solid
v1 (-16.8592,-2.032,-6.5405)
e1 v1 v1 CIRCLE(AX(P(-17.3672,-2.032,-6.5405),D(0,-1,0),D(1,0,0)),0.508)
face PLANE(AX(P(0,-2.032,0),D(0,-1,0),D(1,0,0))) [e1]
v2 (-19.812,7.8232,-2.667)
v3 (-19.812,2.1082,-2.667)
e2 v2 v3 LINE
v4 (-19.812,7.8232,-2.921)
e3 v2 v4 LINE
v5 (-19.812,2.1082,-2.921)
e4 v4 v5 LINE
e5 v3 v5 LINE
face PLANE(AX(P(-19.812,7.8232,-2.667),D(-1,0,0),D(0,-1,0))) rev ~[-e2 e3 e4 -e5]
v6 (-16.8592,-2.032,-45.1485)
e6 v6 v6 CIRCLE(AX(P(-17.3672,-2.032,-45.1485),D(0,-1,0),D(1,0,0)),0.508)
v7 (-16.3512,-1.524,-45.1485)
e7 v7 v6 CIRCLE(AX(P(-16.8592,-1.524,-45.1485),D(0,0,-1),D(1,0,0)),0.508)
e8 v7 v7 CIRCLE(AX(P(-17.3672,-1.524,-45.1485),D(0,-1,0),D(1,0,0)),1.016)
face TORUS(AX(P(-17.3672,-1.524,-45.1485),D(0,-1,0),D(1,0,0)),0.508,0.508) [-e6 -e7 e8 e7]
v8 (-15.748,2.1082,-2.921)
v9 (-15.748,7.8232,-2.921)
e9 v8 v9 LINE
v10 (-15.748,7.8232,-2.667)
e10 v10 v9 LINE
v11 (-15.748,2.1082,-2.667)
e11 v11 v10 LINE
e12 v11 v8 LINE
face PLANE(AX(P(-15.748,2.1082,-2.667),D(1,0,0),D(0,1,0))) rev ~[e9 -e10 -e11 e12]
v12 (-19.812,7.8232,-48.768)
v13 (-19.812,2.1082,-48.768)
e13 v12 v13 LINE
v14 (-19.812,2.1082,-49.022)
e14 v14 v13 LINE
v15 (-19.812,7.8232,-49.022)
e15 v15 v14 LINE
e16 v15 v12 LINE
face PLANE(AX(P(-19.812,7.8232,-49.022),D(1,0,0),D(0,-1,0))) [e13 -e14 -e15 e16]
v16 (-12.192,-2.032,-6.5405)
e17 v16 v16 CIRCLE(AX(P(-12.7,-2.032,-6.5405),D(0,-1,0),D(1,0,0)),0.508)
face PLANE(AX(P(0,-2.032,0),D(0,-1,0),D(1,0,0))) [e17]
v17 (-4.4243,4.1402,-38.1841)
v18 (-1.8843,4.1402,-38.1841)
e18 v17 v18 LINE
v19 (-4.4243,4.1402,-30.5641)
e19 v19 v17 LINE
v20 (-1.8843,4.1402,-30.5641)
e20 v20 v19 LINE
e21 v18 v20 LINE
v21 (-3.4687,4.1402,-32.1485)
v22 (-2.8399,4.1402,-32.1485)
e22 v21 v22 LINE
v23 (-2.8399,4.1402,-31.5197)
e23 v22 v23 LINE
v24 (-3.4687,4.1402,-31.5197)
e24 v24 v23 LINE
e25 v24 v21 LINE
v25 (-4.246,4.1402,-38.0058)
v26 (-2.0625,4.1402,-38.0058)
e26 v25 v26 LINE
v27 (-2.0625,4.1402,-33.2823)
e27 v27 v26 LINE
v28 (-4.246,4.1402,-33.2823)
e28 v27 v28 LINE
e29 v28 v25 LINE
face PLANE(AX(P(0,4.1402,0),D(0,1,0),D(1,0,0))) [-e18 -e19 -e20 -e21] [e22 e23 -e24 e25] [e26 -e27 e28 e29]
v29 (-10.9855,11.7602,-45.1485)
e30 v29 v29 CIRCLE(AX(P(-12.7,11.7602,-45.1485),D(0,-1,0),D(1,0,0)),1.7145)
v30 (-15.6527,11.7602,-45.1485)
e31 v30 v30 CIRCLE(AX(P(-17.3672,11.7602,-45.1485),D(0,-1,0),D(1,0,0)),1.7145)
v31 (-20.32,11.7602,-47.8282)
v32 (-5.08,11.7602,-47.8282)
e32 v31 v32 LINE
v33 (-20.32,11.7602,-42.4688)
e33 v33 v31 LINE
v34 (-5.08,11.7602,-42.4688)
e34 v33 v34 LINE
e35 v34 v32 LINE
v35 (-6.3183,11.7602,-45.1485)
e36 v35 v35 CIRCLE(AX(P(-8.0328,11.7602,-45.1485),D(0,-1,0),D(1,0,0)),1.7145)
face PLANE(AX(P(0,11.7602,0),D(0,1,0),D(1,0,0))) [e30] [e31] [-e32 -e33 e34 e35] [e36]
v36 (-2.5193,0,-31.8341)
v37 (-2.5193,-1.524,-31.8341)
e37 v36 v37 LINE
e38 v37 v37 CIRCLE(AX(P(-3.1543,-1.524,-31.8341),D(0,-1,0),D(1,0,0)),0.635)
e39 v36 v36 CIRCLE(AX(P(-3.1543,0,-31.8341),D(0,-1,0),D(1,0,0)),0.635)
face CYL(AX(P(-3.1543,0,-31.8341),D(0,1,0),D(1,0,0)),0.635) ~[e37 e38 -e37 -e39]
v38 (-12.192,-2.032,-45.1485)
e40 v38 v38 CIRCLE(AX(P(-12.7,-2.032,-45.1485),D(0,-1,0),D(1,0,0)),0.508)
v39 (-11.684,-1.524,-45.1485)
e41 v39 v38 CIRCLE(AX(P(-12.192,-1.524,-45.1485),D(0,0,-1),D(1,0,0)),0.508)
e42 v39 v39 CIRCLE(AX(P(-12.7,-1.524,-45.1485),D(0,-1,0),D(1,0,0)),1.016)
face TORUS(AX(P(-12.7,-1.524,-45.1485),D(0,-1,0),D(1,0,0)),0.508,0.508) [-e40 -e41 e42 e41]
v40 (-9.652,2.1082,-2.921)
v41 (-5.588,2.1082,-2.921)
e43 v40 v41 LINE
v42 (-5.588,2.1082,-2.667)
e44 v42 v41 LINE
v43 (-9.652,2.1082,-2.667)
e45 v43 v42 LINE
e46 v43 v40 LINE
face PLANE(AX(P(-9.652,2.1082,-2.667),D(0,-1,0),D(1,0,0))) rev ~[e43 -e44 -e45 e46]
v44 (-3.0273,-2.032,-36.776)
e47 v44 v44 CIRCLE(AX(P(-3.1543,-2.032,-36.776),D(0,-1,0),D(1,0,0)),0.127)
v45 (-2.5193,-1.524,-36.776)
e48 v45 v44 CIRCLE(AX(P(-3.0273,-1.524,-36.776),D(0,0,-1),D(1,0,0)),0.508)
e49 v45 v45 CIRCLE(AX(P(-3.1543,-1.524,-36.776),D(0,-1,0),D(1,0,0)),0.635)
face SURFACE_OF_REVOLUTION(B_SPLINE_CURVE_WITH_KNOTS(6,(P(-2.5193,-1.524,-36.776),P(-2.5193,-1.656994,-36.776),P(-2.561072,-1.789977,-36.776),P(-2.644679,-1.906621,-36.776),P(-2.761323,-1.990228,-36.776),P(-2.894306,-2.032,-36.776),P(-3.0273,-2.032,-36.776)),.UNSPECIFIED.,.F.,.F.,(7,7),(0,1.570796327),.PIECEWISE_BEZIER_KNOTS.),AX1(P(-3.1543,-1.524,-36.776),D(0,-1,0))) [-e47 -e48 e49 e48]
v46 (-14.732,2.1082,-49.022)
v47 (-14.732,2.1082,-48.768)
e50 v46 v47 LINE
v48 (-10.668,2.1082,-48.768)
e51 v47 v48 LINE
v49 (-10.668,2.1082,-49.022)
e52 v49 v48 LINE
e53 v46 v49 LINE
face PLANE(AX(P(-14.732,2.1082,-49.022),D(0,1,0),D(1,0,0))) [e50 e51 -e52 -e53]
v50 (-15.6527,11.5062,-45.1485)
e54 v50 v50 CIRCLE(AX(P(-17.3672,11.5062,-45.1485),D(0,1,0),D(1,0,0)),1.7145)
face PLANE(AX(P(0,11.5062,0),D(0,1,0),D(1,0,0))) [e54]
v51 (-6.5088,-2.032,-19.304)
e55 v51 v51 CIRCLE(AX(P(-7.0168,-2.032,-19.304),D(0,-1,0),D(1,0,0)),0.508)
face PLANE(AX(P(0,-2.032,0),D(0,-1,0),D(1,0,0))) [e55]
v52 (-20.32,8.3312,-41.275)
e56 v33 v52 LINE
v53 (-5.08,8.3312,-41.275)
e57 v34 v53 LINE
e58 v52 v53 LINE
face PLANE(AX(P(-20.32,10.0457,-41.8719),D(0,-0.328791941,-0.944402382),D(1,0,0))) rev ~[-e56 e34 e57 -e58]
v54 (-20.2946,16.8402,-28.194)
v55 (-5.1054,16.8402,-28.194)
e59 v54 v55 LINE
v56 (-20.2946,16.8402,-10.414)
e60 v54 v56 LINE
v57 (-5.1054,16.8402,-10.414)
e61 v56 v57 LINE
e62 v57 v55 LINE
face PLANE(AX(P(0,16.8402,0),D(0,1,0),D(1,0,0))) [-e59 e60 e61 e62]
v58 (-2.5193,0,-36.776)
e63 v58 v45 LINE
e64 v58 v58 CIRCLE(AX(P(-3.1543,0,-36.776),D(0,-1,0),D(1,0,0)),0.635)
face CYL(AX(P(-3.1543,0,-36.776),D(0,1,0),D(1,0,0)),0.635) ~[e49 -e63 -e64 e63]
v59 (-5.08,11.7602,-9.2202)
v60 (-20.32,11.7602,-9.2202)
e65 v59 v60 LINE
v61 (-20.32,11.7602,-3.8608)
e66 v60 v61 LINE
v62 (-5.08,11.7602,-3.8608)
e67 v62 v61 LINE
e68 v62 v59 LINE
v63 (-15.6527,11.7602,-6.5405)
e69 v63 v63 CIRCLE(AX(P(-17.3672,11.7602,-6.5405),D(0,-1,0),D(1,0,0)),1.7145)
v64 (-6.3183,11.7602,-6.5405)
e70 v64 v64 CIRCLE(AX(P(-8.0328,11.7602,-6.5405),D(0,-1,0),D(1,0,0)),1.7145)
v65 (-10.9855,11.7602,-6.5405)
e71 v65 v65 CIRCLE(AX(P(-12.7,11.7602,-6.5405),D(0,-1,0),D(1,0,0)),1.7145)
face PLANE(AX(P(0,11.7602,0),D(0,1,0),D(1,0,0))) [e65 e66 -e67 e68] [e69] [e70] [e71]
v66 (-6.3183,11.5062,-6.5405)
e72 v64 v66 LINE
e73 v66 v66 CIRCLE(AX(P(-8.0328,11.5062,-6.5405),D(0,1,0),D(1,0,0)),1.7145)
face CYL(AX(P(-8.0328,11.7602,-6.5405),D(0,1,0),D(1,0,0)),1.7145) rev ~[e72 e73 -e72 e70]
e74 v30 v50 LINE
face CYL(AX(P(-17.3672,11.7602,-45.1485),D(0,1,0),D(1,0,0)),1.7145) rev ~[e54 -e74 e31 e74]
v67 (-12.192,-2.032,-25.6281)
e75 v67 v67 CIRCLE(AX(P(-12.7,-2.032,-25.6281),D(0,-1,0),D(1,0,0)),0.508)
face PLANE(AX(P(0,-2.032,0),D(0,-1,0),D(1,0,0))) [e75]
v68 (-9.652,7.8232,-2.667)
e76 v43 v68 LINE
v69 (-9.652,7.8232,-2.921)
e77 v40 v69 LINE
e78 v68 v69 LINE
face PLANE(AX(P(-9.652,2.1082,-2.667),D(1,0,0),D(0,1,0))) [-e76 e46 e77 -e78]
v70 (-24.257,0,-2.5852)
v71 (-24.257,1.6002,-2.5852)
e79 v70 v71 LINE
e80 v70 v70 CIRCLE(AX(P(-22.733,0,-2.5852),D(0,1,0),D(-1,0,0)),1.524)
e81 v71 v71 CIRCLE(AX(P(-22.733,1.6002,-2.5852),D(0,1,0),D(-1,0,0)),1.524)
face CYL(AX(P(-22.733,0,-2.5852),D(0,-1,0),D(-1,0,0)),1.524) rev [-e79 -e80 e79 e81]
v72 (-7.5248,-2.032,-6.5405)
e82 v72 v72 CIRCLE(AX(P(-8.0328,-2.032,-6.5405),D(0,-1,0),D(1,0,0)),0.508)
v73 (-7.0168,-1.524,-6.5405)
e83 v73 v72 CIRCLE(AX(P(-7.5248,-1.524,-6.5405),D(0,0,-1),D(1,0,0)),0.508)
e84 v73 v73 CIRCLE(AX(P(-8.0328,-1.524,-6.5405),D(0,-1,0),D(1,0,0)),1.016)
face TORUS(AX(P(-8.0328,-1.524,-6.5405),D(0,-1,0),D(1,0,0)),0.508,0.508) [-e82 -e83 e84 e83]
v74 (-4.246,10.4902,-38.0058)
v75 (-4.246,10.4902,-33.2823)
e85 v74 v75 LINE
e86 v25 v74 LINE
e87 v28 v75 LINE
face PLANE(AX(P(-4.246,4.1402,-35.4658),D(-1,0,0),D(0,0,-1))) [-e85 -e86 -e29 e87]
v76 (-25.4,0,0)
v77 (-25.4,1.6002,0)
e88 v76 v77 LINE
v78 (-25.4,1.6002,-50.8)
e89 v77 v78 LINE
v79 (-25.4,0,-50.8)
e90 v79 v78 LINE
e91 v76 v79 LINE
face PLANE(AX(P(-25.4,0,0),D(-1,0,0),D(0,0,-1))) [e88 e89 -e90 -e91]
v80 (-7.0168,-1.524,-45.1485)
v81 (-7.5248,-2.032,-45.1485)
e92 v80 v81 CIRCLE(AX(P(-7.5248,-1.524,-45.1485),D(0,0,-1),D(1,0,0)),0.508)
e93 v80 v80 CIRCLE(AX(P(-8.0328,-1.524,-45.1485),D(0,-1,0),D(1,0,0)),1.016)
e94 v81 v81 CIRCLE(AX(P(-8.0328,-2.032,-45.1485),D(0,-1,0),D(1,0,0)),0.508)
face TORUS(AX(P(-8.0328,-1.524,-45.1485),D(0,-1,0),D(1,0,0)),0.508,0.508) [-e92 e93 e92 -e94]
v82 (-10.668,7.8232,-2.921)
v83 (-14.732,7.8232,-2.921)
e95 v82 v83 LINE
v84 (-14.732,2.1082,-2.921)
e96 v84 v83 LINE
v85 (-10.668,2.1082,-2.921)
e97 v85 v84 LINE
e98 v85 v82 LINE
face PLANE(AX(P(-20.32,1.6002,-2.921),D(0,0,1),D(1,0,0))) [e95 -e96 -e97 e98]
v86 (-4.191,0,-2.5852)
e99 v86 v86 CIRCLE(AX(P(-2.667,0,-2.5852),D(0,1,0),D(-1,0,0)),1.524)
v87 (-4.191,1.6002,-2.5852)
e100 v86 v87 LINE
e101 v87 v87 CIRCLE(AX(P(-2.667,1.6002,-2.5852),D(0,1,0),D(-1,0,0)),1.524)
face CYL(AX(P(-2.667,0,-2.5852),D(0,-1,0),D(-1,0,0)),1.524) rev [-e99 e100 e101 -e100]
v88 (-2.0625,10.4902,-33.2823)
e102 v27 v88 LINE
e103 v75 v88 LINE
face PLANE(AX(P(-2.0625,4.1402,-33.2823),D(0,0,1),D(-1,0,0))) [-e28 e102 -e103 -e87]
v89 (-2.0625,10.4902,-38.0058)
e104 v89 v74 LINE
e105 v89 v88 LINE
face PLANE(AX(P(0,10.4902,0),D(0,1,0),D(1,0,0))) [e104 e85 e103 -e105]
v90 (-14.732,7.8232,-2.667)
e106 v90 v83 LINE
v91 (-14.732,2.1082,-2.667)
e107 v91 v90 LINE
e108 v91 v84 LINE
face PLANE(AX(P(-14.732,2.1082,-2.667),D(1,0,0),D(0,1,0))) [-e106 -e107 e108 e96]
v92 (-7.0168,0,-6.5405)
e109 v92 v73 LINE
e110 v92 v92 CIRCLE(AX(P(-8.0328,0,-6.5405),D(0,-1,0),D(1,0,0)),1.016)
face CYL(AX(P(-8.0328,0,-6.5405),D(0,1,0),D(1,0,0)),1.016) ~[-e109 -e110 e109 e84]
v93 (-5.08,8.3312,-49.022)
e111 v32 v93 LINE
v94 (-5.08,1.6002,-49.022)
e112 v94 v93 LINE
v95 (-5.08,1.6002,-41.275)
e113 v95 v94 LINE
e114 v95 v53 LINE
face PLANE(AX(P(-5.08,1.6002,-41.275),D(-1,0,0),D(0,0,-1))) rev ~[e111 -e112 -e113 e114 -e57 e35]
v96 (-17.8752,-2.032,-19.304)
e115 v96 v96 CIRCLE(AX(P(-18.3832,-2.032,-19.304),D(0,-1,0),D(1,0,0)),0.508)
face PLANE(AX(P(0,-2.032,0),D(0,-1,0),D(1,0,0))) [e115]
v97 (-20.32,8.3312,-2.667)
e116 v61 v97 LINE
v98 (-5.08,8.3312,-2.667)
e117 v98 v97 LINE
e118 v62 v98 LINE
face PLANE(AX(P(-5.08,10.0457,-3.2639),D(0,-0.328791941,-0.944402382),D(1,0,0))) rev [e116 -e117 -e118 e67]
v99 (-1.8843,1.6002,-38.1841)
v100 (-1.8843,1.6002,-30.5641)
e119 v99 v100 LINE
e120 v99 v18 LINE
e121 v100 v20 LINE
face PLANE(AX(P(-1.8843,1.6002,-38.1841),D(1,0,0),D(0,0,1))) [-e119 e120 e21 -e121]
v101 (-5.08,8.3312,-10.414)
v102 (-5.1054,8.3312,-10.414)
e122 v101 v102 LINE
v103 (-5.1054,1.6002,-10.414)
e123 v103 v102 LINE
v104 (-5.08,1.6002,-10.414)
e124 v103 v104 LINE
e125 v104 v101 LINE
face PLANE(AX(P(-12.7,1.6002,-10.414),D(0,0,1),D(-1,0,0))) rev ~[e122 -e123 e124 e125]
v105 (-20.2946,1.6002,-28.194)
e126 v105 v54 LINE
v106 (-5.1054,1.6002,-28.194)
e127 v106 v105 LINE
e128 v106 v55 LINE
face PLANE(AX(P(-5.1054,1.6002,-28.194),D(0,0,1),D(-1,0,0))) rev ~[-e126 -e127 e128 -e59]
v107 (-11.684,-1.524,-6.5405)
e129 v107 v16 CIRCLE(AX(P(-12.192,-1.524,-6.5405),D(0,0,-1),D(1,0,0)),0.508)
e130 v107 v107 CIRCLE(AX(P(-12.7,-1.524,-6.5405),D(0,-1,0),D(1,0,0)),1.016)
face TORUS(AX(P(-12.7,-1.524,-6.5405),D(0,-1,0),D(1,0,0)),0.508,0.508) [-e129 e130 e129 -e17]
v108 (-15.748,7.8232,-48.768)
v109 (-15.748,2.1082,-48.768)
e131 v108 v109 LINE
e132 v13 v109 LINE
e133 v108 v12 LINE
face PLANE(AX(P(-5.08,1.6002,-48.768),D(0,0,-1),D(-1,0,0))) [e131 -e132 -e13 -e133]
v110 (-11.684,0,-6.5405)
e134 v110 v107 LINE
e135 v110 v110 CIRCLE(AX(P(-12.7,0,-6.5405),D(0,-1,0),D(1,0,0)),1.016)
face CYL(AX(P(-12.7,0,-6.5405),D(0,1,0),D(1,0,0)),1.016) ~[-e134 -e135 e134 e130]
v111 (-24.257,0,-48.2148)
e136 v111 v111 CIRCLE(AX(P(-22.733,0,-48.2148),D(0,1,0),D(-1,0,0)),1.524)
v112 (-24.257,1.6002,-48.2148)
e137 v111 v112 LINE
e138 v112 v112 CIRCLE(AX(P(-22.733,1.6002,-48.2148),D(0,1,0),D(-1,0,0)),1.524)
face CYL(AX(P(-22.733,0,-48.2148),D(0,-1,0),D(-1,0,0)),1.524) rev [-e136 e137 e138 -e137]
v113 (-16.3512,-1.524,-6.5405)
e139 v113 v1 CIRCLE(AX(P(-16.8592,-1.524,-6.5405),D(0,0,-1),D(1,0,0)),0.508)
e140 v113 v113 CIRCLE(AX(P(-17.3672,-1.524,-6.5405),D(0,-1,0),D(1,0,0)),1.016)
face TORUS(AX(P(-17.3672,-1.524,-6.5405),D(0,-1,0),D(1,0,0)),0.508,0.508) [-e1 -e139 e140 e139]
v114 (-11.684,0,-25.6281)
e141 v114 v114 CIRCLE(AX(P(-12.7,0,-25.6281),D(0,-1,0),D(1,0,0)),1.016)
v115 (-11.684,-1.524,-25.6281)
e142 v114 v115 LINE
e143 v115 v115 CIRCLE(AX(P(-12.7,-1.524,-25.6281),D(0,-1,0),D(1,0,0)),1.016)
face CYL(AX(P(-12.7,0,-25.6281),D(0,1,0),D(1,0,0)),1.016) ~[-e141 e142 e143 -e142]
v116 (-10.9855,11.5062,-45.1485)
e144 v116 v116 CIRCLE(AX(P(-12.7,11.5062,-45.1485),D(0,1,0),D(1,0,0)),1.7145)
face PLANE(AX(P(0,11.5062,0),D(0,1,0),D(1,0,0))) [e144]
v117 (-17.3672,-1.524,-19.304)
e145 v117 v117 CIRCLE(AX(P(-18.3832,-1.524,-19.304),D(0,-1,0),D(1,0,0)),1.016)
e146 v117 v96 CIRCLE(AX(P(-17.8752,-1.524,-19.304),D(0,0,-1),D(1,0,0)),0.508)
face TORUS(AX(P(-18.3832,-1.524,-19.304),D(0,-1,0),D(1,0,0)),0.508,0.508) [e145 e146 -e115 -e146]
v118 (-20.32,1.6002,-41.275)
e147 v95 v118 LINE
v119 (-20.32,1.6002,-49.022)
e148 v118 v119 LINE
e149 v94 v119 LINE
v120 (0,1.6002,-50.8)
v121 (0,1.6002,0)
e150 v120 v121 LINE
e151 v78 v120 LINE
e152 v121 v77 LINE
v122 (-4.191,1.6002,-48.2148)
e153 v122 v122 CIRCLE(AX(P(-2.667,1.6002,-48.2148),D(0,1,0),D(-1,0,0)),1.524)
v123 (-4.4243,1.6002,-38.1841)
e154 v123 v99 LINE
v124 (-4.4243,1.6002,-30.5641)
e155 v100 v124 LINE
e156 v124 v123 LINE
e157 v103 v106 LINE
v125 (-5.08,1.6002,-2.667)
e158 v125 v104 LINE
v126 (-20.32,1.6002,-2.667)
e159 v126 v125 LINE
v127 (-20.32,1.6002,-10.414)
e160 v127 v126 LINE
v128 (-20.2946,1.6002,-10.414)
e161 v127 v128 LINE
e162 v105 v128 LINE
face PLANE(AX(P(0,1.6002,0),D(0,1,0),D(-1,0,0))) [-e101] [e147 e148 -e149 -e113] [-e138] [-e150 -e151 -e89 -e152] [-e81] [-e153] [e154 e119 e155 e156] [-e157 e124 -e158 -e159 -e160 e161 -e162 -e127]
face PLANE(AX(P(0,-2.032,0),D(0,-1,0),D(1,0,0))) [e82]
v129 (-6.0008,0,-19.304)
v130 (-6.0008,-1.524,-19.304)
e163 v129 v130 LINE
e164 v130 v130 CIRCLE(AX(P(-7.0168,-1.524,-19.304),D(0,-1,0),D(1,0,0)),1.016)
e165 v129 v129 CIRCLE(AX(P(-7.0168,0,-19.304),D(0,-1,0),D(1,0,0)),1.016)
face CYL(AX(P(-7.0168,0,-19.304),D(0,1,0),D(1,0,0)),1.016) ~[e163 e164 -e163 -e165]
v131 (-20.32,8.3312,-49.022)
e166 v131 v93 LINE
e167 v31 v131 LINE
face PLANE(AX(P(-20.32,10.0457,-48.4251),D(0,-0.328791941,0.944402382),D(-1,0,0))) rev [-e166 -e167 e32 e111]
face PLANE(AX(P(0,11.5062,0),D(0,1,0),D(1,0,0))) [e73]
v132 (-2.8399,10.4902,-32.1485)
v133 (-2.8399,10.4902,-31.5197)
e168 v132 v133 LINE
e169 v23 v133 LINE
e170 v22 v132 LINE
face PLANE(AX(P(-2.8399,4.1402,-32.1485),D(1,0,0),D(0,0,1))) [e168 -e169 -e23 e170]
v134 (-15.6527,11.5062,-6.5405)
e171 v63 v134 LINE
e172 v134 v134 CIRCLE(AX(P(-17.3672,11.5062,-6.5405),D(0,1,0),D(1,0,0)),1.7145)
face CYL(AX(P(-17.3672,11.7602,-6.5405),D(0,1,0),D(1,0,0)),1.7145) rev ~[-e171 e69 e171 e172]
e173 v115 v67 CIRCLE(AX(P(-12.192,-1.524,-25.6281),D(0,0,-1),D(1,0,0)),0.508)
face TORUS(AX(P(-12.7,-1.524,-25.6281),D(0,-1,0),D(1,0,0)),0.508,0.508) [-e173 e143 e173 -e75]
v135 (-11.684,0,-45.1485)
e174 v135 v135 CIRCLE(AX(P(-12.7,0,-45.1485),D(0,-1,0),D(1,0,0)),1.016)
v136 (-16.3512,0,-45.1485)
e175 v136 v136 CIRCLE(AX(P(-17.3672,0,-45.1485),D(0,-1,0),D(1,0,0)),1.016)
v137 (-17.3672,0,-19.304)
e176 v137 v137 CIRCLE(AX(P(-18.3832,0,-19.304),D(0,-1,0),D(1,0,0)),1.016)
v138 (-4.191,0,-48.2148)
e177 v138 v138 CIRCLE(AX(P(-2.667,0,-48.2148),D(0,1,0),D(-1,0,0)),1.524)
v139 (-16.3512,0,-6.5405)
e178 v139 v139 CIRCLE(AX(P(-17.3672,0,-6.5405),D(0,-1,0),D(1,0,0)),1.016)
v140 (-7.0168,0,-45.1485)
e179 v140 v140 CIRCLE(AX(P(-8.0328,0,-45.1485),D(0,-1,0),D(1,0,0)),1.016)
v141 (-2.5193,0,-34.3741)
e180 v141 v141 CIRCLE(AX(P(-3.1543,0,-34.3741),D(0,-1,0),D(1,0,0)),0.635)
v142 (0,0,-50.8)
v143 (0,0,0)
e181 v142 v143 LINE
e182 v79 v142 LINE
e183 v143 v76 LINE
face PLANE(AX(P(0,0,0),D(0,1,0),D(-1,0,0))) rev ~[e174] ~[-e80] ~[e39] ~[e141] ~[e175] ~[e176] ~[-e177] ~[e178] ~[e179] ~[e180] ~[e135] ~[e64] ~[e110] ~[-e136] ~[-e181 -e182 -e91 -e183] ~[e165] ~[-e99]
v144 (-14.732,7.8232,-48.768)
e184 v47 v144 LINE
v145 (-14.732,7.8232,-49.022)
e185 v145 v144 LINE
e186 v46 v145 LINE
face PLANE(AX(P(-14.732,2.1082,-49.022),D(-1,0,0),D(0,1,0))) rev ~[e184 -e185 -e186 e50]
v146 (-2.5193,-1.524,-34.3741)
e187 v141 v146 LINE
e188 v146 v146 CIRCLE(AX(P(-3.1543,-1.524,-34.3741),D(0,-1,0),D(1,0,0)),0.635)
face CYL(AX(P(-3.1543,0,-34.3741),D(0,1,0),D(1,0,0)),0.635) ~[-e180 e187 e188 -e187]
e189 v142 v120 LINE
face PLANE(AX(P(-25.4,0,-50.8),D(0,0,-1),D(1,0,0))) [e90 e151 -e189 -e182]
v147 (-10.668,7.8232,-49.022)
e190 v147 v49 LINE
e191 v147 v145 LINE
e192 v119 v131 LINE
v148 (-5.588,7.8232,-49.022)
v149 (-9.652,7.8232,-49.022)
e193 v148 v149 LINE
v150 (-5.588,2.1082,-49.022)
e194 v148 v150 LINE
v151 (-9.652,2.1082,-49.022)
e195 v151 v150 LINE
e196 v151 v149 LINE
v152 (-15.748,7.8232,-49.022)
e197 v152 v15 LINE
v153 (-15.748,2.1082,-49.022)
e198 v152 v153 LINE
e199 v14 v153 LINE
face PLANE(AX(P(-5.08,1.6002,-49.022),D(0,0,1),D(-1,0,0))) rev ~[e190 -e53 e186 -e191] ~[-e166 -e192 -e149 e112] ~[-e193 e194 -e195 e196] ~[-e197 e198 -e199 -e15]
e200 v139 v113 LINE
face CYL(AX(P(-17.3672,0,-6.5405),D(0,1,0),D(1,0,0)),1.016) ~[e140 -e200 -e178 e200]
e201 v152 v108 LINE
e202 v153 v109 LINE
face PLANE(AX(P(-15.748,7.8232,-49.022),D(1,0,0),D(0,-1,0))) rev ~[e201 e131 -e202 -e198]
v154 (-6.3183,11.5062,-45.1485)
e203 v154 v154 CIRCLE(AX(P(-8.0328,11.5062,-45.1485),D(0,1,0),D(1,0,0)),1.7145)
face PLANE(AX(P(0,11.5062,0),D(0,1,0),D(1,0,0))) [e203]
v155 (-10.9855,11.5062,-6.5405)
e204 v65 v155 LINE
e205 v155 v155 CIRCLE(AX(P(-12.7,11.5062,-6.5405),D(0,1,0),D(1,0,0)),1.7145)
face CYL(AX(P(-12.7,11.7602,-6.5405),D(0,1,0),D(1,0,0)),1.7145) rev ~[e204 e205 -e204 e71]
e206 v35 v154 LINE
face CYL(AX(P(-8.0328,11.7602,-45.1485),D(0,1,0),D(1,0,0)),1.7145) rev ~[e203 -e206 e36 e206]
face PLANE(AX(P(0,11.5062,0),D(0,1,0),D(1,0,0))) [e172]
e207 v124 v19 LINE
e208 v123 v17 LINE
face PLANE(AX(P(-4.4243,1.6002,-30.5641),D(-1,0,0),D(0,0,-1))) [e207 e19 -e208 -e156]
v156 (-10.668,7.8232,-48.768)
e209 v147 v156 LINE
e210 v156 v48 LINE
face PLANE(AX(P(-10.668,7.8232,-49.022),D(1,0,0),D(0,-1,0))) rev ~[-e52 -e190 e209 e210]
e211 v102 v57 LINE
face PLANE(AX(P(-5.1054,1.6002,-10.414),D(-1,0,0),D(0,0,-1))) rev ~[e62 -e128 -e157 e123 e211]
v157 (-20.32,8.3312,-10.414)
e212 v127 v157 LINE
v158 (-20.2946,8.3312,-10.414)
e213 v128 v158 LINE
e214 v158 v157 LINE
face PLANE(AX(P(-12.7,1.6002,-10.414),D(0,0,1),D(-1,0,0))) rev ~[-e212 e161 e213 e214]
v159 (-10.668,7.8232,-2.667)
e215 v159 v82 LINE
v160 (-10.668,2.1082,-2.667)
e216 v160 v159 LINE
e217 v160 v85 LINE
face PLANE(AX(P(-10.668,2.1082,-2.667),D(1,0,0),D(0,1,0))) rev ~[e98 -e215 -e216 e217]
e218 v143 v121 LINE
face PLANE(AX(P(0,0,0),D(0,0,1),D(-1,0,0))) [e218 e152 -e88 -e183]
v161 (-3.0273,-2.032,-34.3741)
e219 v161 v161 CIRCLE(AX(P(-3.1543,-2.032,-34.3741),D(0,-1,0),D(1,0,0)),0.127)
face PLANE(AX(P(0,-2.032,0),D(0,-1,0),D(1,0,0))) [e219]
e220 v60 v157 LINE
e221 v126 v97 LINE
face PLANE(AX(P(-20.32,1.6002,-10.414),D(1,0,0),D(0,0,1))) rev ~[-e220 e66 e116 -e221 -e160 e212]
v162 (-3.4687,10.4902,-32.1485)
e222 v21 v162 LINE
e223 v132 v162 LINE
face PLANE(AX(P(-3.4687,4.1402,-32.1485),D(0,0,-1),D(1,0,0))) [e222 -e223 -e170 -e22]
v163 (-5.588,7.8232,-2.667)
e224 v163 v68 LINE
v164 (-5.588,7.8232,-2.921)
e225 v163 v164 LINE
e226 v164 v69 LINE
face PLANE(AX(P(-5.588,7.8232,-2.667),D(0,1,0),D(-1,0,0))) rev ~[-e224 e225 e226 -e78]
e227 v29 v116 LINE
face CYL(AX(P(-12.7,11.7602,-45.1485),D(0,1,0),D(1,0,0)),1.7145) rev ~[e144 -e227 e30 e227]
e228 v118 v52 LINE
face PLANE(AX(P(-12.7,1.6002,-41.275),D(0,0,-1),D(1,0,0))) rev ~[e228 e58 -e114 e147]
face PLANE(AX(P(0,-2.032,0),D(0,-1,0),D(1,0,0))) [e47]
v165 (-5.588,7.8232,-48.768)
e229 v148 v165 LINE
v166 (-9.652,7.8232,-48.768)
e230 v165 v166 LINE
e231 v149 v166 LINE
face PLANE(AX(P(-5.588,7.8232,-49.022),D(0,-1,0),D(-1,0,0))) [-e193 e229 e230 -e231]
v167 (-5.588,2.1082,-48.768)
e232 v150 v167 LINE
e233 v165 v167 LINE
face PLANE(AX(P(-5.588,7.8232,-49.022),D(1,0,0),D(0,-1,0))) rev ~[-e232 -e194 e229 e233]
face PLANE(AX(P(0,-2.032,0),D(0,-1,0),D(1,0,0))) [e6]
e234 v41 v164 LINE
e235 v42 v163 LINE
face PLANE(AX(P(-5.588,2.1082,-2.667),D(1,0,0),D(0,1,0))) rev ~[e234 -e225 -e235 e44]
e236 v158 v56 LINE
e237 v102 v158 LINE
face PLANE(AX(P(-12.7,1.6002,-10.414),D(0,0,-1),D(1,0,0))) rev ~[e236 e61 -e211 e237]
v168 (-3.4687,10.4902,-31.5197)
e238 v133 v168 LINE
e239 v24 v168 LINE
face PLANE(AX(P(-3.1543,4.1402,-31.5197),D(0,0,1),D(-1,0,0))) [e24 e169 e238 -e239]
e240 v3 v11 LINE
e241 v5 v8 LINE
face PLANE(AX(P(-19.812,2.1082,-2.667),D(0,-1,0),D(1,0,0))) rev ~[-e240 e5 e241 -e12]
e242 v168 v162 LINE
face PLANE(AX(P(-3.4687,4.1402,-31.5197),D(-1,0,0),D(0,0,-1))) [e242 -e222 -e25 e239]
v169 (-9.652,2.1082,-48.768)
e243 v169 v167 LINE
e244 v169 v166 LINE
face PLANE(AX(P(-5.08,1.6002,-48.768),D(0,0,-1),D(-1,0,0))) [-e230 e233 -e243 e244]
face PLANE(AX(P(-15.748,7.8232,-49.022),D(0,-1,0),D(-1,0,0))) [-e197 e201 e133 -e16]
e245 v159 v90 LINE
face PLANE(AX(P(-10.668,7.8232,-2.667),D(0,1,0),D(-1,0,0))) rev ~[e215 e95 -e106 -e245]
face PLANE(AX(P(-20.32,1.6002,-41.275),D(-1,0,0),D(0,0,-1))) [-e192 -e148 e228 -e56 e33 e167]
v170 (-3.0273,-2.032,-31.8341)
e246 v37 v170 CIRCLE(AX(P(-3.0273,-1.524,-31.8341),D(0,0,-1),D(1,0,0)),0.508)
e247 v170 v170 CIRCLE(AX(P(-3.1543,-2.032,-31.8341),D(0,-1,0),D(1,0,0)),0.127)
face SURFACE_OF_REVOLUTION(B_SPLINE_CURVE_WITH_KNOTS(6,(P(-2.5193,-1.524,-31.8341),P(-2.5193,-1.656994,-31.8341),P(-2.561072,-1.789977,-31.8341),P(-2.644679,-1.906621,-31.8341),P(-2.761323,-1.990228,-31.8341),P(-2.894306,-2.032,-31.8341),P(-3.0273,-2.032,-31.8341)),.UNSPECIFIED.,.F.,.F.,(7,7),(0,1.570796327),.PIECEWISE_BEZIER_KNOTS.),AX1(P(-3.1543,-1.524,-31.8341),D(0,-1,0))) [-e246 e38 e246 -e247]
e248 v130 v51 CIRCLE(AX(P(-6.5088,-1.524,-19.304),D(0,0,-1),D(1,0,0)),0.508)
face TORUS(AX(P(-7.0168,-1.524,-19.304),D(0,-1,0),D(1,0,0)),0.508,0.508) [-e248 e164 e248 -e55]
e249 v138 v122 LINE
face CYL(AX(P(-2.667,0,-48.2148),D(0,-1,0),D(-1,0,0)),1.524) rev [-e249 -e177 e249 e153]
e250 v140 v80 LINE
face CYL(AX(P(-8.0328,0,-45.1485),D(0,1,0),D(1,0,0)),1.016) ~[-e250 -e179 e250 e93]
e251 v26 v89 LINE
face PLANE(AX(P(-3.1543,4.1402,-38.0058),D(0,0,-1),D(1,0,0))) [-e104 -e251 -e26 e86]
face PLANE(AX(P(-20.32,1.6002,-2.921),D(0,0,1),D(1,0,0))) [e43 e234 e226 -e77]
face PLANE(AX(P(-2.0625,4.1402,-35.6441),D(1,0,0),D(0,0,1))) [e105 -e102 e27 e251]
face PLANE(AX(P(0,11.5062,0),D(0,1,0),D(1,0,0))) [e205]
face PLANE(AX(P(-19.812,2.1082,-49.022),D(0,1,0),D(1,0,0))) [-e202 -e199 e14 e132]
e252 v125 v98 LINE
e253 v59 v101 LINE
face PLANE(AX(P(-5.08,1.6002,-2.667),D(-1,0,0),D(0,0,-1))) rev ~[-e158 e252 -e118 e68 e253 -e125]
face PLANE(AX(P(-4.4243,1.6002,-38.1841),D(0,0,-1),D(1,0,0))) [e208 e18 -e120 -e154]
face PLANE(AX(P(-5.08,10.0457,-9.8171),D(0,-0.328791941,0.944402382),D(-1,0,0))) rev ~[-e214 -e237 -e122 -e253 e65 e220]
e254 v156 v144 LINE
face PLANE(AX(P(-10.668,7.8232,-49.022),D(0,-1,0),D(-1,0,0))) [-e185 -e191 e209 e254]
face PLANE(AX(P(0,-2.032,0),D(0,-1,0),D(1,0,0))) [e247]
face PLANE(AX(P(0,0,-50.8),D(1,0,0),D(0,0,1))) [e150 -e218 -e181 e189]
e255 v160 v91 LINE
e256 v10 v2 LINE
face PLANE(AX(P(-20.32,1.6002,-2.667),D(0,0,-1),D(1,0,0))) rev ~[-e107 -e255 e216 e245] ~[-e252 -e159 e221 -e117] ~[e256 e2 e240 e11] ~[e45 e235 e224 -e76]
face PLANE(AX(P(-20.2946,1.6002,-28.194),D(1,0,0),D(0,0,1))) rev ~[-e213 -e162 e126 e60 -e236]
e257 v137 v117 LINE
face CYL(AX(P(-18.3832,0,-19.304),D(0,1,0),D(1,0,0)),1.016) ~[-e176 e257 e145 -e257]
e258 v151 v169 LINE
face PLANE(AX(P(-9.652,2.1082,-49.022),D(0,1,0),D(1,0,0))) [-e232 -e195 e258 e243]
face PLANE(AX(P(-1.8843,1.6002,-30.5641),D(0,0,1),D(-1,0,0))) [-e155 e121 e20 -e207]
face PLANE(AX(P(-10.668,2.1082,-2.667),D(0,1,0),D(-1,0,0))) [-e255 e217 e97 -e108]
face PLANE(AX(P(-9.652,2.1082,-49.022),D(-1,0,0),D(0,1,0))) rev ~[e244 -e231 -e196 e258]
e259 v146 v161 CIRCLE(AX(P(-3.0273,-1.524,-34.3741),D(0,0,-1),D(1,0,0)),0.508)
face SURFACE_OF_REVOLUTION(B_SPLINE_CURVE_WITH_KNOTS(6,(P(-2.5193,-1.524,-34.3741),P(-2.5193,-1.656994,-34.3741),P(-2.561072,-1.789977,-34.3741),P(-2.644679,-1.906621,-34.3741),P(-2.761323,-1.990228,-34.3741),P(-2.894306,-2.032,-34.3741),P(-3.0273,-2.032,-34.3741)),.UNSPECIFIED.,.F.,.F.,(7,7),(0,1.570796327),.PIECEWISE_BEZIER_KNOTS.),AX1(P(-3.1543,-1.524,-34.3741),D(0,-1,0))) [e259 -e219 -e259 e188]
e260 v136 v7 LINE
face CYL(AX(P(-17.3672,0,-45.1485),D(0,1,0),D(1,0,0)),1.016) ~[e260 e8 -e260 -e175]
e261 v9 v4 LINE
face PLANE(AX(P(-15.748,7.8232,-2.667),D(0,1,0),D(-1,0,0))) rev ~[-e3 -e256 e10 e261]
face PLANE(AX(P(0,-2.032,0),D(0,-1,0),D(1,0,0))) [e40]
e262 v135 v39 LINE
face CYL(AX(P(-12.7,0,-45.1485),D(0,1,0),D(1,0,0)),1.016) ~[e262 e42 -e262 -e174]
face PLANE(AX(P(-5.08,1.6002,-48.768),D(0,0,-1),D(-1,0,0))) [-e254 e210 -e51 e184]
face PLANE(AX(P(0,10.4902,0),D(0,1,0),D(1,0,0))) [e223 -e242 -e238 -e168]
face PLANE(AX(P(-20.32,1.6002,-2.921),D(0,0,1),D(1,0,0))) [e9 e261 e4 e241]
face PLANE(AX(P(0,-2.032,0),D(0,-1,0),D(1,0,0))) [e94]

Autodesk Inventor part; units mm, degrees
ref_plane "YZ Plane" through (0, 0, 0) normal (1, 0, 0) x (0, 1, 0)
ref_plane "XZ Plane" through (0, 0, 0) normal (0, 1, 0) x (-1, 0, 0)
ref_plane "XY Plane" through (0, 0, 0) normal (0, 0, 1) x (1, 0, 0)
sketch "Sketch1" plane through (0, 0, 0) normal (0, 1, 0) x (-1, 0, 0)
  line L0 (0, 0) -> (25.4, 0)
  line L1 (25.4, 0) -> (25.4, -50.8)
  line L2 (25.4, -50.8) -> (0, -50.8)
  line L3 (0, -50.8) -> (0, 0)
  line L4 (25.4, 0) -> (24.257, 0) construction
  line L5 (24.257, 0) -> (24.257, -1.143) construction
  line L6 (24.257, -1.143) -> (25.4, -1.143) construction
  line L7 (25.4, -1.143) -> (25.4, 0) construction
  line L8 (24.257, -1.143) -> (21.209, -1.143) construction
  line L9 (21.209, -1.143) -> (21.209, -4.0275) construction
  line L10 (21.209, -4.0275) -> (24.257, -4.0275) construction
  line L11 (24.257, -4.0275) -> (24.257, -1.143) construction
  line L12 (12.7, 0) -> (12.7, -12.2886) construction
  line L13 (25.4, -25.4) -> (17.1181, -25.4) construction
  circle A0 centre (22.733, -2.5852) radius 1.524
  circle A1 centre (2.667, -2.5852) radius 1.524
  circle A2 centre (22.733, -48.2148) radius 1.524
  circle A3 centre (2.667, -48.2148) radius 1.524
  dimension "d0" = 25.4
  dimension "d1" = 50.8
  dimension "d2" = 1.143
  dimension "d3" = 1.143
  dimension "d4" = 3.048
extrude "Extrusion1" add sketch "Sketch1" along normal blind 1.6002
sketch "Sketch3" plane through (0, 1.6002, 0) normal (0, 1, 0) x (1, 0, 0)
  line L0 (0, 50.8) -> (-25.4, 50.8) projected
  line L1 (-12.7, 50.8) -> (-12.7, 49.022)
  line L2 (-12.7, 49.022) -> (-12.7, 41.275)
  line L3 (-25.4, 0) -> (0, 0) projected
  line L4 (-12.7, 0) -> (-12.7, 2.667)
  line L5 (-12.7, 2.667) -> (-12.7, 10.414)
  line L6 (-12.7, 10.414) -> (-5.08, 10.414)
  line L7 (-5.08, 10.414) -> (-20.32, 10.414)
  line L8 (-20.32, 10.414) -> (-20.32, 2.667)
  line L9 (-20.32, 2.667) -> (-5.08, 2.667)
  line L10 (-5.08, 2.667) -> (-5.08, 10.414)
  line L11 (-12.7, 41.275) -> (-5.08, 41.275)
  line L12 (-5.08, 41.275) -> (-5.08, 49.022)
  line L13 (-5.08, 49.022) -> (-12.7, 49.022)
  line L14 (-12.7, 49.022) -> (-12.7, 41.275)
  line L15 (-5.08, 41.275) -> (-20.32, 41.275)
  line L16 (-20.32, 41.275) -> (-20.32, 49.022)
  line L17 (-20.32, 49.022) -> (-5.08, 49.022)
  line L18 (-5.08, 49.022) -> (-5.08, 41.275)
  dimension "d13" = 7.747
  dimension "d14" = 1.778
  dimension "d15" = 2.667
  dimension "d16" = 7.747
  dimension "d17" = 7.62
  dimension "d18" = 15.24
  dimension "d19" = 7.747
  dimension "d20" = 7.62
  dimension "d21" = 7.747
  dimension "d22" = 15.24
extrude "Extrusion2" add sketch "Sketch3" along normal blind 10.16
chamfer "Chamfer1" distance 1.1938 distance2 3.429 2 edges at (-12.7, 11.7602, -2.667) (-12.7, 11.7602, -10.414) measured on face at (-15.24, 11.7602, -7.8317)
chamfer "Chamfer2" distance 1.1938 distance2 3.429 2 edges at (-12.7, 11.7602, -41.275) (-12.7, 11.7602, -49.022) measured on face at (-15.24, 11.7602, -46.4397)
sketch "Sketch4" plane through (0, 11.7602, 0) normal (0, 1, 0) x (1, 0, 0)
  line L0 (-5.08, 42.4688) -> (-20.32, 42.4688) projected
  line L1 (-20.32, 41.275) -> (-20.32, 49.022) projected
  line L2 (-5.08, 42.4688) -> (-20.32, 42.4688)
  line L3 (-20.32, 42.4688) -> (-20.32, 45.1485)
  line L4 (-20.32, 45.1485) -> (-5.08, 45.1485)
  line L5 (-5.08, 45.1485) -> (-5.08, 42.4688)
  circle A0 centre (-12.7, 45.1485) radius 1.7145
  line L6 (-10.9855, 45.1485) -> (-5.08, 45.1485)
  line L7 (-5.08, 49.022) -> (-5.08, 41.275) projected
  line L8 (-14.4145, 45.1485) -> (-20.32, 45.1485)
  line L9 (-5.08, 3.8608) -> (-20.32, 3.8608) projected
  line L10 (-20.32, 2.667) -> (-20.32, 10.414) projected
  line L11 (-5.08, 3.8608) -> (-20.32, 3.8608)
  line L12 (-20.32, 3.8608) -> (-20.32, 6.5405)
  line L13 (-20.32, 6.5405) -> (-5.08, 6.5405)
  line L14 (-5.08, 6.5405) -> (-5.08, 3.8608)
  circle A1 centre (-8.0328, 45.1485) radius 1.7145
  circle A2 centre (-17.3672, 45.1485) radius 1.7145
  circle A3 centre (-12.7, 6.5405) radius 1.7145
  line L15 (-10.9855, 6.5405) -> (-5.08, 6.5405)
  line L16 (-14.4145, 6.5405) -> (-20.32, 6.5405)
  circle A4 centre (-17.3672, 6.5405) radius 1.7145
  circle A5 centre (-8.0328, 6.5405) radius 1.7145
  point P0 (0, 0)
  dimension "d31" = 3.429
  dimension "d32" = 3.429
  dimension "d33" = 3.429
  dimension "d34" = 3.429
  dimension "d35" = 3.429
  dimension "d36" = 3.429
extrude "Extrusion3" cut sketch "Sketch4" against normal blind 0.254 contours A1 L4 | L4 A1 | A2 L4 | L4 A2 | A0 L4 | L4 A0 | A5 L13 | L13 A5 | A4 L13 | L13 A4 | A3 L13 | L13 A3
sketch "Sketch5" plane through (-20.32, 1.6002, -2.667) normal (0, 0, 1) x (1, 0, 0)
  line L0 (0, 0) -> (0, 6.731) projected
  line L1 (0, 6.731) -> (5.08, 6.731)
  line L2 (15.24, 6.731) -> (0, 6.731) projected
  line L3 (5.08, 6.731) -> (10.16, 6.731)
  line L4 (10.16, 6.731) -> (15.24, 6.731)
  line L5 (10.16, 6.731) -> (15.24, 6.731)
  line L6 (15.24, 6.731) -> (15.24, 0)
  line L7 (15.24, 0) -> (10.16, 0)
  line L8 (10.16, 0) -> (10.16, 6.731)
  line L9 (5.08, 6.731) -> (0, 6.731)
  line L10 (0, 6.731) -> (0, 0)
  line L11 (0, 0) -> (5.08, 0)
  line L12 (5.08, 0) -> (5.08, 6.731)
  line L13 (5.08, 6.731) -> (10.16, 6.731)
  line L14 (10.16, 6.731) -> (10.16, 0)
  line L15 (10.16, 0) -> (5.08, 0)
  line L16 (5.08, 0) -> (5.08, 6.731)
  line L17 (4.572, 6.223) -> (0.508, 6.223)
  line L18 (0.508, 6.223) -> (0.508, 0.508)
  line L19 (0.508, 0.508) -> (4.572, 0.508)
  line L20 (4.572, 0.508) -> (4.572, 6.223)
  line L21 (10.16, 0.508) -> (14.732, 0.508)
  line L22 (14.732, 0.508) -> (14.732, 6.223)
  line L23 (14.732, 6.223) -> (10.16, 6.223)
  line L24 (10.668, 0) -> (10.668, 6.731)
  line L25 (9.652, 0) -> (9.652, 6.223)
  line L26 (9.652, 6.223) -> (5.08, 6.223)
  line L27 (10.16, 0.508) -> (5.588, 0.508)
  line L28 (5.588, 0.508) -> (5.588, 6.731)
  point P0 (20.32, -1.6002)
  point P1 (10.668, 6.223)
  point P2 (10.668, 0.508)
  point P3 (5.588, 6.223)
  point P4 (9.652, 0.508)
  dimension "d39" = 5.08
  dimension "d40" = 5.08
  dimension "d41" = 0.508
  dimension "d42" = 0.508
  dimension "d43" = 0.508
  dimension "d44" = 0.508
  dimension "d45" = 0.508
extrude "Extrusion4" cut sketch "Sketch5" against normal blind 0.254 contours L26 L25 L27 L28 | L24 L23 L22 L21 | L20 L19 L18 L17
sketch "Sketch6" plane through (-5.08, 1.6002, -49.022) normal (0, 0, -1) x (-1, 0, 0)
  line L0 (0, 0) -> (15.24, 0) projected
  line L1 (15.24, 6.731) -> (0, 6.731) projected
  line L2 (0, 0) -> (5.08, 0)
  line L3 (5.08, 0) -> (5.08, 6.731)
  line L4 (5.08, 6.731) -> (0, 6.731)
  line L5 (0, 6.731) -> (0, 0)
  line L6 (5.08, 6.731) -> (10.16, 6.731)
  line L7 (10.16, 6.731) -> (10.16, 0)
  line L8 (10.16, 0) -> (5.08, 0)
  line L9 (5.08, 0) -> (5.08, 6.731)
  line L10 (15.24, 0) -> (15.24, 6.731) projected
  line L11 (10.16, 0) -> (15.24, 0)
  line L12 (15.24, 0) -> (15.24, 6.731)
  line L13 (15.24, 6.731) -> (10.16, 6.731)
  line L14 (10.16, 6.731) -> (10.16, 0)
  line L15 (0, 6.223) -> (14.732, 6.223)
  line L16 (14.732, 6.223) -> (14.732, 0.508)
  line L17 (14.732, 0.508) -> (0, 0.508)
  line L18 (0.508, 0.508) -> (4.572, 0.508)
  line L19 (4.572, 0.508) -> (4.572, 6.223)
  line L20 (4.572, 6.223) -> (0.508, 6.223)
  line L21 (0.508, 6.223) -> (0.508, 0.508)
  line L22 (9.652, 0) -> (9.652, 6.223)
  line L23 (9.652, 6.223) -> (5.08, 6.223)
  line L24 (10.668, 0.508) -> (14.732, 0.508)
  line L25 (14.732, 0.508) -> (14.732, 6.223)
  line L26 (14.732, 6.223) -> (10.668, 6.223)
  line L27 (10.668, 6.223) -> (10.668, 0.508)
  line L28 (5.588, 7.239) -> (5.588, -0.508)
  line L29 (5.588, -0.508) -> (-0.508, -0.508)
  line L30 (-0.508, -0.508) -> (-0.508, 7.239)
  line L31 (-0.508, 7.239) -> (5.588, 7.239)
  point P0 (-5.08, -1.6002)
  point P1 (5.588, 6.223)
  point P2 (5.588, 0.508)
  point P3 (9.652, 0.508)
  point P4 (0.508, 6.223)
  point P5 (0.508, 0.508)
  dimension "d48" = 5.08
  dimension "d49" = 5.08
  dimension "d50" = 0.508
  dimension "d51" = 0.508
  dimension "d52" = 0.508
  dimension "d53" = 0.508
  dimension "d54" = 0.508
extrude "Extrusion5" cut sketch "Sketch6" against normal blind 0.254 contours L21 L15 L19 L17 | L28 L15 L22 L17 | L27 L15 L16 L17
sketch "Sketch7" plane through (0, 1.6002, 0) normal (0, 1, 0) x (1, 0, 0)
  line L0 (-20.32, 10.414) -> (-5.08, 10.414) projected
  line L1 (-12.7, 10.414) -> (-5.1054, 10.414)
  line L2 (-5.1054, 10.414) -> (-5.1054, 28.194)
  line L3 (-5.1054, 28.194) -> (-12.7, 28.194)
  line L4 (-12.7, 28.194) -> (-12.7, 10.414)
  line L5 (-12.7, 28.194) -> (-20.2946, 28.194)
  line L6 (-20.2946, 28.194) -> (-20.2946, 9.398)
  line L7 (-20.2946, 9.398) -> (-12.7, 9.398)
  line L8 (-12.7, 9.398) -> (-12.7, 28.194)
  point P0 (0, 0)
  point P1 (-20.2946, 10.414)
  dimension "d57" = 7.5946
  dimension "d58" = 17.78
  dimension "d59" = 7.5946
  dimension "d60" = 18.796
extrude "Extrusion6" add sketch "Sketch7" along normal blind 15.24 contours L4 L3 L2 L0 | L0 L6 L5 L4
sketch "Sketch8" plane through (0, 1.6002, 0) normal (0, 1, 0) x (1, 0, 0)
  line L0 (-1.8843, 30.5641) -> (-4.4243, 30.5641)
  line L1 (-4.4243, 30.5641) -> (-4.4243, 38.1841)
  line L2 (-4.4243, 38.1841) -> (-1.8843, 38.1841)
  line L3 (-1.8843, 38.1841) -> (-1.8843, 30.5641)
  point P0 (0, 0)
  dimension "d65" = 7.62
  dimension "d66" = 2.54
extrude "Extrusion7" add sketch "Sketch8" along normal blind 2.54
sketch "Sketch10" plane through (0, 4.1402, 0) normal (0, 1, 0) x (1, 0, 0)
  line L0 (-1.8843, 30.5641) -> (-4.4243, 30.5641) projected
  line L1 (-4.4243, 38.1841) -> (-4.4243, 30.5641) projected
  line L2 (-1.8843, 30.5641) -> (-4.4243, 30.5641)
  line L3 (-4.4243, 30.5641) -> (-4.4243, 35.6441)
  line L4 (-4.4243, 35.6441) -> (-1.8843, 35.6441)
  line L5 (-1.8843, 35.6441) -> (-1.8843, 30.5641)
  line L6 (-1.8843, 35.6441) -> (-4.4243, 35.6441)
  line L7 (-4.4243, 35.6441) -> (-4.4243, 38.1841)
  line L8 (-4.4243, 38.1841) -> (-1.8843, 38.1841)
  line L9 (-1.8843, 38.1841) -> (-1.8843, 35.6441)
  line L10 (-2.8399, 37.2285) -> (-3.4687, 37.2285)
  line L11 (-3.4687, 37.2285) -> (-3.4687, 36.5997)
  line L12 (-3.4687, 36.5997) -> (-2.8399, 36.5997)
  line L13 (-2.8399, 36.5997) -> (-2.8399, 37.2285)
  line L14 (-2.0625, 35.4658) -> (-4.246, 35.4658)
  line L15 (-4.246, 35.4658) -> (-4.246, 30.7423)
  line L16 (-4.246, 30.7423) -> (-2.0625, 30.7423)
  line L17 (-2.0625, 30.7423) -> (-2.0625, 35.4658)
  line L18 (-3.1543, 30.5641) -> (-3.1543, 38.1841)
  line L19 (-3.1543, 34.3741) -> (-3.6306, 34.3741)
  line L20 (-2.8399, 31.5197) -> (-3.4687, 31.5197)
  line L21 (-3.4687, 31.5197) -> (-3.4687, 32.1485)
  line L22 (-3.4687, 32.1485) -> (-2.8399, 32.1485)
  line L23 (-2.8399, 32.1485) -> (-2.8399, 31.5197)
  line L24 (-2.0625, 33.2823) -> (-4.246, 33.2823)
  line L25 (-4.246, 33.2823) -> (-4.246, 38.0058)
  line L26 (-4.246, 38.0058) -> (-2.0625, 38.0058)
  line L27 (-2.0625, 38.0058) -> (-2.0625, 33.2823)
  line L28 (-1.8843, 38.1841) -> (-4.4243, 38.1841) projected
  line L29 (-4.4243, 38.1841) -> (-4.4243, 30.5641) projected
  line L30 (-4.4243, 30.5641) -> (-1.8843, 30.5641) projected
  line L31 (-1.8843, 30.5641) -> (-1.8843, 38.1841) projected
  line L32 (-4.246, 38.0058) -> (-2.0625, 38.0058)
  line L33 (-2.0625, 38.0058) -> (-2.0625, 33.2823)
  line L34 (-2.0625, 33.2823) -> (-4.246, 33.2823)
  line L35 (-4.246, 33.2823) -> (-4.246, 38.0058)
  line L36 (-2.8399, 32.1485) -> (-3.4687, 32.1485)
  line L37 (-3.4687, 32.1485) -> (-3.4687, 31.5197)
  line L38 (-3.4687, 31.5197) -> (-2.8399, 31.5197)
  line L39 (-2.8399, 31.5197) -> (-2.8399, 32.1485)
  point P0 (0, 0)
  dimension "d67" = 5.08
extrude "Extrusion8" add sketch "Sketch10" along normal blind 6.35 contours L27 L14 L18 L4 | L4 L18 L12 L13 L10 L26 L27 | L20 L21 L22 L18 | L18 L22 L23 L20 | L18 L14 L25 L4 | L4 L25 L26 L18 L10 L11 L12 | L17 L24 L18 L14 | L15 L14 L18 L24 | L18 L10 L13 L12 | L12 L11 L10 L18
sketch "Sketch11" plane through (0, 0, 0) normal (0, -1, 0) x (1, 0, 0)
  circle A0 centre (-17.3672, -6.5405) radius 1.7145 projected
  circle A1 centre (-12.7, -6.5405) radius 1.7145 projected
  circle A2 centre (-8.0328, -6.5405) radius 1.7145 projected
  line L0 (-20.2946, -28.194) -> (-20.2946, -10.414) projected
  line L1 (-20.2946, -10.414) -> (-5.1054, -10.414) projected
  line L2 (-5.1054, -10.414) -> (-5.1054, -28.194) projected
  line L3 (-5.1054, -28.194) -> (-20.2946, -28.194) projected
  circle A3 centre (-17.3672, -45.1485) radius 1.7145 projected
  circle A4 centre (-12.7, -45.1485) radius 1.7145 projected
  circle A5 centre (-8.0328, -45.1485) radius 1.7145 projected
  line L4 (-2.8399, -31.5197) -> (-3.4687, -31.5197) projected
  line L5 (-3.4687, -31.5197) -> (-3.4687, -32.1485) projected
  line L6 (-3.4687, -32.1485) -> (-2.8399, -32.1485) projected
  line L7 (-2.8399, -32.1485) -> (-2.8399, -31.5197) projected
  line L8 (-2.0625, -38.0058) -> (-2.0625, -33.2823) projected
  line L9 (-2.0625, -33.2823) -> (-4.246, -33.2823) projected
  line L10 (-4.246, -33.2823) -> (-4.246, -38.0058) projected
  line L11 (-4.246, -38.0058) -> (-2.0625, -38.0058) projected
  line L12 (-1.8843, -38.1841) -> (-4.4243, -38.1841) projected
  line L13 (-4.4243, -38.1841) -> (-4.4243, -30.5641) projected
  line L14 (-4.4243, -30.5641) -> (-1.8843, -30.5641) projected
  line L15 (-1.8843, -30.5641) -> (-1.8843, -38.1841) projected
  circle A6 centre (-8.0328, -6.5405) radius 1.016
  circle A7 centre (-12.7, -6.5405) radius 1.016
  circle A8 centre (-17.3672, -6.5405) radius 1.016
  circle A9 centre (-12.7, -25.6281) radius 1.016
  circle A10 centre (-7.0168, -19.304) radius 1.016
  circle A11 centre (-18.3832, -19.304) radius 1.016
  circle A12 centre (-3.1543, -31.8341) radius 0.635
  circle A13 centre (-3.1543, -36.776) radius 0.635
  circle A14 centre (-3.1543, -34.3741) radius 0.635
  circle A15 centre (-8.0328, -45.1485) radius 1.016
  circle A16 centre (-12.7, -45.1485) radius 1.016
  circle A17 centre (-17.3672, -45.1485) radius 1.016
  point P0 (0, 0)
  dimension "d70" = 2.032
  dimension "d71" = 2.032
  dimension "d72" = 2.032
  dimension "d73" = 2.032
  dimension "d74" = 2.032
  dimension "d75" = 2.032
  dimension "d76" = 1.27
  dimension "d77" = 1.27
  dimension "d78" = 1.27
  dimension "d79" = 2.032
  dimension "d80" = 2.032
  dimension "d81" = 2.032
extrude "Extrusion9" add sketch "Sketch11" along normal blind 2.032 contours L7 L6 L5 L4 | A6 | A7 | A8 | A9 | A10 | A11 | A12 | A13 | A14 | A15 | A16 | A17
fillet "Fillet1" radius 0.508 12 edges at (-9.0488, -2.032, -6.5405) (-13.716, -2.032, -6.5405) (-18.3832, -2.032, -6.5405) (-8.0328, -2.032, -19.304) (-19.3992, -2.032, -19.304) (-13.716, -2.032, -25.6281) (-3.7893, -2.032, -31.8341) (-3.7893, -2.032, -34.3741) (-3.7893, -2.032, -36.776) (-9.0488, -2.032, -45.1485) (-13.716, -2.032, -45.1485) (-18.3833, -2.032, -45.1485)
sketch "Sketch12" plane through (0, 1.6002, 0) normal (0, 1, 0) x (1, 0, 0)
  line L0 (-1.8843, 38.1841) -> (-1.8843, 30.5641) projected
  line L1 (-1.8843, 30.5641) -> (-4.4243, 30.5641) projected
  line L2 (-4.4243, 30.5641) -> (-4.4243, 38.1841) projected
  line L3 (-4.4243, 38.1841) -> (-1.8843, 38.1841) projected
  circle A0 centre (-22.733, 2.5852) radius 1.524 projected
  circle A1 centre (-2.667, 2.5852) radius 1.524 projected
  circle A2 centre (-22.733, 48.2148) radius 1.524 projected
  circle A3 centre (-2.667, 48.2148) radius 1.524 projected
  line L4 (0, 50.8) -> (-25.4, 50.8) projected
  line L5 (-25.4, 50.8) -> (-25.4, 0) projected
  line L6 (-25.4, 0) -> (0, 0) projected
  line L7 (0, 0) -> (0, 50.8) projected
  line L8 (-20.2946, 10.414) -> (-20.2946, 28.194) projected
  line L9 (-20.2946, 28.194) -> (-5.1054, 28.194) projected
  line L10 (-5.1054, 28.194) -> (-5.1054, 10.414) projected
  line L11 (-5.1054, 10.414) -> (-5.08, 10.414) projected
  line L12 (-5.08, 10.414) -> (-5.08, 2.667) projected
  line L13 (-5.08, 2.667) -> (-20.32, 2.667) projected
  line L14 (-20.32, 2.667) -> (-20.32, 10.414) projected
  line L15 (-20.32, 10.414) -> (-20.2946, 10.414) projected
  line L16 (-20.32, 41.275) -> (-20.32, 49.022) projected
  line L17 (-20.32, 49.022) -> (-5.08, 49.022) projected
  line L18 (-5.08, 49.022) -> (-5.08, 41.275) projected
  line L19 (-5.08, 41.275) -> (-20.32, 41.275) projected
properties part number "Relay"
